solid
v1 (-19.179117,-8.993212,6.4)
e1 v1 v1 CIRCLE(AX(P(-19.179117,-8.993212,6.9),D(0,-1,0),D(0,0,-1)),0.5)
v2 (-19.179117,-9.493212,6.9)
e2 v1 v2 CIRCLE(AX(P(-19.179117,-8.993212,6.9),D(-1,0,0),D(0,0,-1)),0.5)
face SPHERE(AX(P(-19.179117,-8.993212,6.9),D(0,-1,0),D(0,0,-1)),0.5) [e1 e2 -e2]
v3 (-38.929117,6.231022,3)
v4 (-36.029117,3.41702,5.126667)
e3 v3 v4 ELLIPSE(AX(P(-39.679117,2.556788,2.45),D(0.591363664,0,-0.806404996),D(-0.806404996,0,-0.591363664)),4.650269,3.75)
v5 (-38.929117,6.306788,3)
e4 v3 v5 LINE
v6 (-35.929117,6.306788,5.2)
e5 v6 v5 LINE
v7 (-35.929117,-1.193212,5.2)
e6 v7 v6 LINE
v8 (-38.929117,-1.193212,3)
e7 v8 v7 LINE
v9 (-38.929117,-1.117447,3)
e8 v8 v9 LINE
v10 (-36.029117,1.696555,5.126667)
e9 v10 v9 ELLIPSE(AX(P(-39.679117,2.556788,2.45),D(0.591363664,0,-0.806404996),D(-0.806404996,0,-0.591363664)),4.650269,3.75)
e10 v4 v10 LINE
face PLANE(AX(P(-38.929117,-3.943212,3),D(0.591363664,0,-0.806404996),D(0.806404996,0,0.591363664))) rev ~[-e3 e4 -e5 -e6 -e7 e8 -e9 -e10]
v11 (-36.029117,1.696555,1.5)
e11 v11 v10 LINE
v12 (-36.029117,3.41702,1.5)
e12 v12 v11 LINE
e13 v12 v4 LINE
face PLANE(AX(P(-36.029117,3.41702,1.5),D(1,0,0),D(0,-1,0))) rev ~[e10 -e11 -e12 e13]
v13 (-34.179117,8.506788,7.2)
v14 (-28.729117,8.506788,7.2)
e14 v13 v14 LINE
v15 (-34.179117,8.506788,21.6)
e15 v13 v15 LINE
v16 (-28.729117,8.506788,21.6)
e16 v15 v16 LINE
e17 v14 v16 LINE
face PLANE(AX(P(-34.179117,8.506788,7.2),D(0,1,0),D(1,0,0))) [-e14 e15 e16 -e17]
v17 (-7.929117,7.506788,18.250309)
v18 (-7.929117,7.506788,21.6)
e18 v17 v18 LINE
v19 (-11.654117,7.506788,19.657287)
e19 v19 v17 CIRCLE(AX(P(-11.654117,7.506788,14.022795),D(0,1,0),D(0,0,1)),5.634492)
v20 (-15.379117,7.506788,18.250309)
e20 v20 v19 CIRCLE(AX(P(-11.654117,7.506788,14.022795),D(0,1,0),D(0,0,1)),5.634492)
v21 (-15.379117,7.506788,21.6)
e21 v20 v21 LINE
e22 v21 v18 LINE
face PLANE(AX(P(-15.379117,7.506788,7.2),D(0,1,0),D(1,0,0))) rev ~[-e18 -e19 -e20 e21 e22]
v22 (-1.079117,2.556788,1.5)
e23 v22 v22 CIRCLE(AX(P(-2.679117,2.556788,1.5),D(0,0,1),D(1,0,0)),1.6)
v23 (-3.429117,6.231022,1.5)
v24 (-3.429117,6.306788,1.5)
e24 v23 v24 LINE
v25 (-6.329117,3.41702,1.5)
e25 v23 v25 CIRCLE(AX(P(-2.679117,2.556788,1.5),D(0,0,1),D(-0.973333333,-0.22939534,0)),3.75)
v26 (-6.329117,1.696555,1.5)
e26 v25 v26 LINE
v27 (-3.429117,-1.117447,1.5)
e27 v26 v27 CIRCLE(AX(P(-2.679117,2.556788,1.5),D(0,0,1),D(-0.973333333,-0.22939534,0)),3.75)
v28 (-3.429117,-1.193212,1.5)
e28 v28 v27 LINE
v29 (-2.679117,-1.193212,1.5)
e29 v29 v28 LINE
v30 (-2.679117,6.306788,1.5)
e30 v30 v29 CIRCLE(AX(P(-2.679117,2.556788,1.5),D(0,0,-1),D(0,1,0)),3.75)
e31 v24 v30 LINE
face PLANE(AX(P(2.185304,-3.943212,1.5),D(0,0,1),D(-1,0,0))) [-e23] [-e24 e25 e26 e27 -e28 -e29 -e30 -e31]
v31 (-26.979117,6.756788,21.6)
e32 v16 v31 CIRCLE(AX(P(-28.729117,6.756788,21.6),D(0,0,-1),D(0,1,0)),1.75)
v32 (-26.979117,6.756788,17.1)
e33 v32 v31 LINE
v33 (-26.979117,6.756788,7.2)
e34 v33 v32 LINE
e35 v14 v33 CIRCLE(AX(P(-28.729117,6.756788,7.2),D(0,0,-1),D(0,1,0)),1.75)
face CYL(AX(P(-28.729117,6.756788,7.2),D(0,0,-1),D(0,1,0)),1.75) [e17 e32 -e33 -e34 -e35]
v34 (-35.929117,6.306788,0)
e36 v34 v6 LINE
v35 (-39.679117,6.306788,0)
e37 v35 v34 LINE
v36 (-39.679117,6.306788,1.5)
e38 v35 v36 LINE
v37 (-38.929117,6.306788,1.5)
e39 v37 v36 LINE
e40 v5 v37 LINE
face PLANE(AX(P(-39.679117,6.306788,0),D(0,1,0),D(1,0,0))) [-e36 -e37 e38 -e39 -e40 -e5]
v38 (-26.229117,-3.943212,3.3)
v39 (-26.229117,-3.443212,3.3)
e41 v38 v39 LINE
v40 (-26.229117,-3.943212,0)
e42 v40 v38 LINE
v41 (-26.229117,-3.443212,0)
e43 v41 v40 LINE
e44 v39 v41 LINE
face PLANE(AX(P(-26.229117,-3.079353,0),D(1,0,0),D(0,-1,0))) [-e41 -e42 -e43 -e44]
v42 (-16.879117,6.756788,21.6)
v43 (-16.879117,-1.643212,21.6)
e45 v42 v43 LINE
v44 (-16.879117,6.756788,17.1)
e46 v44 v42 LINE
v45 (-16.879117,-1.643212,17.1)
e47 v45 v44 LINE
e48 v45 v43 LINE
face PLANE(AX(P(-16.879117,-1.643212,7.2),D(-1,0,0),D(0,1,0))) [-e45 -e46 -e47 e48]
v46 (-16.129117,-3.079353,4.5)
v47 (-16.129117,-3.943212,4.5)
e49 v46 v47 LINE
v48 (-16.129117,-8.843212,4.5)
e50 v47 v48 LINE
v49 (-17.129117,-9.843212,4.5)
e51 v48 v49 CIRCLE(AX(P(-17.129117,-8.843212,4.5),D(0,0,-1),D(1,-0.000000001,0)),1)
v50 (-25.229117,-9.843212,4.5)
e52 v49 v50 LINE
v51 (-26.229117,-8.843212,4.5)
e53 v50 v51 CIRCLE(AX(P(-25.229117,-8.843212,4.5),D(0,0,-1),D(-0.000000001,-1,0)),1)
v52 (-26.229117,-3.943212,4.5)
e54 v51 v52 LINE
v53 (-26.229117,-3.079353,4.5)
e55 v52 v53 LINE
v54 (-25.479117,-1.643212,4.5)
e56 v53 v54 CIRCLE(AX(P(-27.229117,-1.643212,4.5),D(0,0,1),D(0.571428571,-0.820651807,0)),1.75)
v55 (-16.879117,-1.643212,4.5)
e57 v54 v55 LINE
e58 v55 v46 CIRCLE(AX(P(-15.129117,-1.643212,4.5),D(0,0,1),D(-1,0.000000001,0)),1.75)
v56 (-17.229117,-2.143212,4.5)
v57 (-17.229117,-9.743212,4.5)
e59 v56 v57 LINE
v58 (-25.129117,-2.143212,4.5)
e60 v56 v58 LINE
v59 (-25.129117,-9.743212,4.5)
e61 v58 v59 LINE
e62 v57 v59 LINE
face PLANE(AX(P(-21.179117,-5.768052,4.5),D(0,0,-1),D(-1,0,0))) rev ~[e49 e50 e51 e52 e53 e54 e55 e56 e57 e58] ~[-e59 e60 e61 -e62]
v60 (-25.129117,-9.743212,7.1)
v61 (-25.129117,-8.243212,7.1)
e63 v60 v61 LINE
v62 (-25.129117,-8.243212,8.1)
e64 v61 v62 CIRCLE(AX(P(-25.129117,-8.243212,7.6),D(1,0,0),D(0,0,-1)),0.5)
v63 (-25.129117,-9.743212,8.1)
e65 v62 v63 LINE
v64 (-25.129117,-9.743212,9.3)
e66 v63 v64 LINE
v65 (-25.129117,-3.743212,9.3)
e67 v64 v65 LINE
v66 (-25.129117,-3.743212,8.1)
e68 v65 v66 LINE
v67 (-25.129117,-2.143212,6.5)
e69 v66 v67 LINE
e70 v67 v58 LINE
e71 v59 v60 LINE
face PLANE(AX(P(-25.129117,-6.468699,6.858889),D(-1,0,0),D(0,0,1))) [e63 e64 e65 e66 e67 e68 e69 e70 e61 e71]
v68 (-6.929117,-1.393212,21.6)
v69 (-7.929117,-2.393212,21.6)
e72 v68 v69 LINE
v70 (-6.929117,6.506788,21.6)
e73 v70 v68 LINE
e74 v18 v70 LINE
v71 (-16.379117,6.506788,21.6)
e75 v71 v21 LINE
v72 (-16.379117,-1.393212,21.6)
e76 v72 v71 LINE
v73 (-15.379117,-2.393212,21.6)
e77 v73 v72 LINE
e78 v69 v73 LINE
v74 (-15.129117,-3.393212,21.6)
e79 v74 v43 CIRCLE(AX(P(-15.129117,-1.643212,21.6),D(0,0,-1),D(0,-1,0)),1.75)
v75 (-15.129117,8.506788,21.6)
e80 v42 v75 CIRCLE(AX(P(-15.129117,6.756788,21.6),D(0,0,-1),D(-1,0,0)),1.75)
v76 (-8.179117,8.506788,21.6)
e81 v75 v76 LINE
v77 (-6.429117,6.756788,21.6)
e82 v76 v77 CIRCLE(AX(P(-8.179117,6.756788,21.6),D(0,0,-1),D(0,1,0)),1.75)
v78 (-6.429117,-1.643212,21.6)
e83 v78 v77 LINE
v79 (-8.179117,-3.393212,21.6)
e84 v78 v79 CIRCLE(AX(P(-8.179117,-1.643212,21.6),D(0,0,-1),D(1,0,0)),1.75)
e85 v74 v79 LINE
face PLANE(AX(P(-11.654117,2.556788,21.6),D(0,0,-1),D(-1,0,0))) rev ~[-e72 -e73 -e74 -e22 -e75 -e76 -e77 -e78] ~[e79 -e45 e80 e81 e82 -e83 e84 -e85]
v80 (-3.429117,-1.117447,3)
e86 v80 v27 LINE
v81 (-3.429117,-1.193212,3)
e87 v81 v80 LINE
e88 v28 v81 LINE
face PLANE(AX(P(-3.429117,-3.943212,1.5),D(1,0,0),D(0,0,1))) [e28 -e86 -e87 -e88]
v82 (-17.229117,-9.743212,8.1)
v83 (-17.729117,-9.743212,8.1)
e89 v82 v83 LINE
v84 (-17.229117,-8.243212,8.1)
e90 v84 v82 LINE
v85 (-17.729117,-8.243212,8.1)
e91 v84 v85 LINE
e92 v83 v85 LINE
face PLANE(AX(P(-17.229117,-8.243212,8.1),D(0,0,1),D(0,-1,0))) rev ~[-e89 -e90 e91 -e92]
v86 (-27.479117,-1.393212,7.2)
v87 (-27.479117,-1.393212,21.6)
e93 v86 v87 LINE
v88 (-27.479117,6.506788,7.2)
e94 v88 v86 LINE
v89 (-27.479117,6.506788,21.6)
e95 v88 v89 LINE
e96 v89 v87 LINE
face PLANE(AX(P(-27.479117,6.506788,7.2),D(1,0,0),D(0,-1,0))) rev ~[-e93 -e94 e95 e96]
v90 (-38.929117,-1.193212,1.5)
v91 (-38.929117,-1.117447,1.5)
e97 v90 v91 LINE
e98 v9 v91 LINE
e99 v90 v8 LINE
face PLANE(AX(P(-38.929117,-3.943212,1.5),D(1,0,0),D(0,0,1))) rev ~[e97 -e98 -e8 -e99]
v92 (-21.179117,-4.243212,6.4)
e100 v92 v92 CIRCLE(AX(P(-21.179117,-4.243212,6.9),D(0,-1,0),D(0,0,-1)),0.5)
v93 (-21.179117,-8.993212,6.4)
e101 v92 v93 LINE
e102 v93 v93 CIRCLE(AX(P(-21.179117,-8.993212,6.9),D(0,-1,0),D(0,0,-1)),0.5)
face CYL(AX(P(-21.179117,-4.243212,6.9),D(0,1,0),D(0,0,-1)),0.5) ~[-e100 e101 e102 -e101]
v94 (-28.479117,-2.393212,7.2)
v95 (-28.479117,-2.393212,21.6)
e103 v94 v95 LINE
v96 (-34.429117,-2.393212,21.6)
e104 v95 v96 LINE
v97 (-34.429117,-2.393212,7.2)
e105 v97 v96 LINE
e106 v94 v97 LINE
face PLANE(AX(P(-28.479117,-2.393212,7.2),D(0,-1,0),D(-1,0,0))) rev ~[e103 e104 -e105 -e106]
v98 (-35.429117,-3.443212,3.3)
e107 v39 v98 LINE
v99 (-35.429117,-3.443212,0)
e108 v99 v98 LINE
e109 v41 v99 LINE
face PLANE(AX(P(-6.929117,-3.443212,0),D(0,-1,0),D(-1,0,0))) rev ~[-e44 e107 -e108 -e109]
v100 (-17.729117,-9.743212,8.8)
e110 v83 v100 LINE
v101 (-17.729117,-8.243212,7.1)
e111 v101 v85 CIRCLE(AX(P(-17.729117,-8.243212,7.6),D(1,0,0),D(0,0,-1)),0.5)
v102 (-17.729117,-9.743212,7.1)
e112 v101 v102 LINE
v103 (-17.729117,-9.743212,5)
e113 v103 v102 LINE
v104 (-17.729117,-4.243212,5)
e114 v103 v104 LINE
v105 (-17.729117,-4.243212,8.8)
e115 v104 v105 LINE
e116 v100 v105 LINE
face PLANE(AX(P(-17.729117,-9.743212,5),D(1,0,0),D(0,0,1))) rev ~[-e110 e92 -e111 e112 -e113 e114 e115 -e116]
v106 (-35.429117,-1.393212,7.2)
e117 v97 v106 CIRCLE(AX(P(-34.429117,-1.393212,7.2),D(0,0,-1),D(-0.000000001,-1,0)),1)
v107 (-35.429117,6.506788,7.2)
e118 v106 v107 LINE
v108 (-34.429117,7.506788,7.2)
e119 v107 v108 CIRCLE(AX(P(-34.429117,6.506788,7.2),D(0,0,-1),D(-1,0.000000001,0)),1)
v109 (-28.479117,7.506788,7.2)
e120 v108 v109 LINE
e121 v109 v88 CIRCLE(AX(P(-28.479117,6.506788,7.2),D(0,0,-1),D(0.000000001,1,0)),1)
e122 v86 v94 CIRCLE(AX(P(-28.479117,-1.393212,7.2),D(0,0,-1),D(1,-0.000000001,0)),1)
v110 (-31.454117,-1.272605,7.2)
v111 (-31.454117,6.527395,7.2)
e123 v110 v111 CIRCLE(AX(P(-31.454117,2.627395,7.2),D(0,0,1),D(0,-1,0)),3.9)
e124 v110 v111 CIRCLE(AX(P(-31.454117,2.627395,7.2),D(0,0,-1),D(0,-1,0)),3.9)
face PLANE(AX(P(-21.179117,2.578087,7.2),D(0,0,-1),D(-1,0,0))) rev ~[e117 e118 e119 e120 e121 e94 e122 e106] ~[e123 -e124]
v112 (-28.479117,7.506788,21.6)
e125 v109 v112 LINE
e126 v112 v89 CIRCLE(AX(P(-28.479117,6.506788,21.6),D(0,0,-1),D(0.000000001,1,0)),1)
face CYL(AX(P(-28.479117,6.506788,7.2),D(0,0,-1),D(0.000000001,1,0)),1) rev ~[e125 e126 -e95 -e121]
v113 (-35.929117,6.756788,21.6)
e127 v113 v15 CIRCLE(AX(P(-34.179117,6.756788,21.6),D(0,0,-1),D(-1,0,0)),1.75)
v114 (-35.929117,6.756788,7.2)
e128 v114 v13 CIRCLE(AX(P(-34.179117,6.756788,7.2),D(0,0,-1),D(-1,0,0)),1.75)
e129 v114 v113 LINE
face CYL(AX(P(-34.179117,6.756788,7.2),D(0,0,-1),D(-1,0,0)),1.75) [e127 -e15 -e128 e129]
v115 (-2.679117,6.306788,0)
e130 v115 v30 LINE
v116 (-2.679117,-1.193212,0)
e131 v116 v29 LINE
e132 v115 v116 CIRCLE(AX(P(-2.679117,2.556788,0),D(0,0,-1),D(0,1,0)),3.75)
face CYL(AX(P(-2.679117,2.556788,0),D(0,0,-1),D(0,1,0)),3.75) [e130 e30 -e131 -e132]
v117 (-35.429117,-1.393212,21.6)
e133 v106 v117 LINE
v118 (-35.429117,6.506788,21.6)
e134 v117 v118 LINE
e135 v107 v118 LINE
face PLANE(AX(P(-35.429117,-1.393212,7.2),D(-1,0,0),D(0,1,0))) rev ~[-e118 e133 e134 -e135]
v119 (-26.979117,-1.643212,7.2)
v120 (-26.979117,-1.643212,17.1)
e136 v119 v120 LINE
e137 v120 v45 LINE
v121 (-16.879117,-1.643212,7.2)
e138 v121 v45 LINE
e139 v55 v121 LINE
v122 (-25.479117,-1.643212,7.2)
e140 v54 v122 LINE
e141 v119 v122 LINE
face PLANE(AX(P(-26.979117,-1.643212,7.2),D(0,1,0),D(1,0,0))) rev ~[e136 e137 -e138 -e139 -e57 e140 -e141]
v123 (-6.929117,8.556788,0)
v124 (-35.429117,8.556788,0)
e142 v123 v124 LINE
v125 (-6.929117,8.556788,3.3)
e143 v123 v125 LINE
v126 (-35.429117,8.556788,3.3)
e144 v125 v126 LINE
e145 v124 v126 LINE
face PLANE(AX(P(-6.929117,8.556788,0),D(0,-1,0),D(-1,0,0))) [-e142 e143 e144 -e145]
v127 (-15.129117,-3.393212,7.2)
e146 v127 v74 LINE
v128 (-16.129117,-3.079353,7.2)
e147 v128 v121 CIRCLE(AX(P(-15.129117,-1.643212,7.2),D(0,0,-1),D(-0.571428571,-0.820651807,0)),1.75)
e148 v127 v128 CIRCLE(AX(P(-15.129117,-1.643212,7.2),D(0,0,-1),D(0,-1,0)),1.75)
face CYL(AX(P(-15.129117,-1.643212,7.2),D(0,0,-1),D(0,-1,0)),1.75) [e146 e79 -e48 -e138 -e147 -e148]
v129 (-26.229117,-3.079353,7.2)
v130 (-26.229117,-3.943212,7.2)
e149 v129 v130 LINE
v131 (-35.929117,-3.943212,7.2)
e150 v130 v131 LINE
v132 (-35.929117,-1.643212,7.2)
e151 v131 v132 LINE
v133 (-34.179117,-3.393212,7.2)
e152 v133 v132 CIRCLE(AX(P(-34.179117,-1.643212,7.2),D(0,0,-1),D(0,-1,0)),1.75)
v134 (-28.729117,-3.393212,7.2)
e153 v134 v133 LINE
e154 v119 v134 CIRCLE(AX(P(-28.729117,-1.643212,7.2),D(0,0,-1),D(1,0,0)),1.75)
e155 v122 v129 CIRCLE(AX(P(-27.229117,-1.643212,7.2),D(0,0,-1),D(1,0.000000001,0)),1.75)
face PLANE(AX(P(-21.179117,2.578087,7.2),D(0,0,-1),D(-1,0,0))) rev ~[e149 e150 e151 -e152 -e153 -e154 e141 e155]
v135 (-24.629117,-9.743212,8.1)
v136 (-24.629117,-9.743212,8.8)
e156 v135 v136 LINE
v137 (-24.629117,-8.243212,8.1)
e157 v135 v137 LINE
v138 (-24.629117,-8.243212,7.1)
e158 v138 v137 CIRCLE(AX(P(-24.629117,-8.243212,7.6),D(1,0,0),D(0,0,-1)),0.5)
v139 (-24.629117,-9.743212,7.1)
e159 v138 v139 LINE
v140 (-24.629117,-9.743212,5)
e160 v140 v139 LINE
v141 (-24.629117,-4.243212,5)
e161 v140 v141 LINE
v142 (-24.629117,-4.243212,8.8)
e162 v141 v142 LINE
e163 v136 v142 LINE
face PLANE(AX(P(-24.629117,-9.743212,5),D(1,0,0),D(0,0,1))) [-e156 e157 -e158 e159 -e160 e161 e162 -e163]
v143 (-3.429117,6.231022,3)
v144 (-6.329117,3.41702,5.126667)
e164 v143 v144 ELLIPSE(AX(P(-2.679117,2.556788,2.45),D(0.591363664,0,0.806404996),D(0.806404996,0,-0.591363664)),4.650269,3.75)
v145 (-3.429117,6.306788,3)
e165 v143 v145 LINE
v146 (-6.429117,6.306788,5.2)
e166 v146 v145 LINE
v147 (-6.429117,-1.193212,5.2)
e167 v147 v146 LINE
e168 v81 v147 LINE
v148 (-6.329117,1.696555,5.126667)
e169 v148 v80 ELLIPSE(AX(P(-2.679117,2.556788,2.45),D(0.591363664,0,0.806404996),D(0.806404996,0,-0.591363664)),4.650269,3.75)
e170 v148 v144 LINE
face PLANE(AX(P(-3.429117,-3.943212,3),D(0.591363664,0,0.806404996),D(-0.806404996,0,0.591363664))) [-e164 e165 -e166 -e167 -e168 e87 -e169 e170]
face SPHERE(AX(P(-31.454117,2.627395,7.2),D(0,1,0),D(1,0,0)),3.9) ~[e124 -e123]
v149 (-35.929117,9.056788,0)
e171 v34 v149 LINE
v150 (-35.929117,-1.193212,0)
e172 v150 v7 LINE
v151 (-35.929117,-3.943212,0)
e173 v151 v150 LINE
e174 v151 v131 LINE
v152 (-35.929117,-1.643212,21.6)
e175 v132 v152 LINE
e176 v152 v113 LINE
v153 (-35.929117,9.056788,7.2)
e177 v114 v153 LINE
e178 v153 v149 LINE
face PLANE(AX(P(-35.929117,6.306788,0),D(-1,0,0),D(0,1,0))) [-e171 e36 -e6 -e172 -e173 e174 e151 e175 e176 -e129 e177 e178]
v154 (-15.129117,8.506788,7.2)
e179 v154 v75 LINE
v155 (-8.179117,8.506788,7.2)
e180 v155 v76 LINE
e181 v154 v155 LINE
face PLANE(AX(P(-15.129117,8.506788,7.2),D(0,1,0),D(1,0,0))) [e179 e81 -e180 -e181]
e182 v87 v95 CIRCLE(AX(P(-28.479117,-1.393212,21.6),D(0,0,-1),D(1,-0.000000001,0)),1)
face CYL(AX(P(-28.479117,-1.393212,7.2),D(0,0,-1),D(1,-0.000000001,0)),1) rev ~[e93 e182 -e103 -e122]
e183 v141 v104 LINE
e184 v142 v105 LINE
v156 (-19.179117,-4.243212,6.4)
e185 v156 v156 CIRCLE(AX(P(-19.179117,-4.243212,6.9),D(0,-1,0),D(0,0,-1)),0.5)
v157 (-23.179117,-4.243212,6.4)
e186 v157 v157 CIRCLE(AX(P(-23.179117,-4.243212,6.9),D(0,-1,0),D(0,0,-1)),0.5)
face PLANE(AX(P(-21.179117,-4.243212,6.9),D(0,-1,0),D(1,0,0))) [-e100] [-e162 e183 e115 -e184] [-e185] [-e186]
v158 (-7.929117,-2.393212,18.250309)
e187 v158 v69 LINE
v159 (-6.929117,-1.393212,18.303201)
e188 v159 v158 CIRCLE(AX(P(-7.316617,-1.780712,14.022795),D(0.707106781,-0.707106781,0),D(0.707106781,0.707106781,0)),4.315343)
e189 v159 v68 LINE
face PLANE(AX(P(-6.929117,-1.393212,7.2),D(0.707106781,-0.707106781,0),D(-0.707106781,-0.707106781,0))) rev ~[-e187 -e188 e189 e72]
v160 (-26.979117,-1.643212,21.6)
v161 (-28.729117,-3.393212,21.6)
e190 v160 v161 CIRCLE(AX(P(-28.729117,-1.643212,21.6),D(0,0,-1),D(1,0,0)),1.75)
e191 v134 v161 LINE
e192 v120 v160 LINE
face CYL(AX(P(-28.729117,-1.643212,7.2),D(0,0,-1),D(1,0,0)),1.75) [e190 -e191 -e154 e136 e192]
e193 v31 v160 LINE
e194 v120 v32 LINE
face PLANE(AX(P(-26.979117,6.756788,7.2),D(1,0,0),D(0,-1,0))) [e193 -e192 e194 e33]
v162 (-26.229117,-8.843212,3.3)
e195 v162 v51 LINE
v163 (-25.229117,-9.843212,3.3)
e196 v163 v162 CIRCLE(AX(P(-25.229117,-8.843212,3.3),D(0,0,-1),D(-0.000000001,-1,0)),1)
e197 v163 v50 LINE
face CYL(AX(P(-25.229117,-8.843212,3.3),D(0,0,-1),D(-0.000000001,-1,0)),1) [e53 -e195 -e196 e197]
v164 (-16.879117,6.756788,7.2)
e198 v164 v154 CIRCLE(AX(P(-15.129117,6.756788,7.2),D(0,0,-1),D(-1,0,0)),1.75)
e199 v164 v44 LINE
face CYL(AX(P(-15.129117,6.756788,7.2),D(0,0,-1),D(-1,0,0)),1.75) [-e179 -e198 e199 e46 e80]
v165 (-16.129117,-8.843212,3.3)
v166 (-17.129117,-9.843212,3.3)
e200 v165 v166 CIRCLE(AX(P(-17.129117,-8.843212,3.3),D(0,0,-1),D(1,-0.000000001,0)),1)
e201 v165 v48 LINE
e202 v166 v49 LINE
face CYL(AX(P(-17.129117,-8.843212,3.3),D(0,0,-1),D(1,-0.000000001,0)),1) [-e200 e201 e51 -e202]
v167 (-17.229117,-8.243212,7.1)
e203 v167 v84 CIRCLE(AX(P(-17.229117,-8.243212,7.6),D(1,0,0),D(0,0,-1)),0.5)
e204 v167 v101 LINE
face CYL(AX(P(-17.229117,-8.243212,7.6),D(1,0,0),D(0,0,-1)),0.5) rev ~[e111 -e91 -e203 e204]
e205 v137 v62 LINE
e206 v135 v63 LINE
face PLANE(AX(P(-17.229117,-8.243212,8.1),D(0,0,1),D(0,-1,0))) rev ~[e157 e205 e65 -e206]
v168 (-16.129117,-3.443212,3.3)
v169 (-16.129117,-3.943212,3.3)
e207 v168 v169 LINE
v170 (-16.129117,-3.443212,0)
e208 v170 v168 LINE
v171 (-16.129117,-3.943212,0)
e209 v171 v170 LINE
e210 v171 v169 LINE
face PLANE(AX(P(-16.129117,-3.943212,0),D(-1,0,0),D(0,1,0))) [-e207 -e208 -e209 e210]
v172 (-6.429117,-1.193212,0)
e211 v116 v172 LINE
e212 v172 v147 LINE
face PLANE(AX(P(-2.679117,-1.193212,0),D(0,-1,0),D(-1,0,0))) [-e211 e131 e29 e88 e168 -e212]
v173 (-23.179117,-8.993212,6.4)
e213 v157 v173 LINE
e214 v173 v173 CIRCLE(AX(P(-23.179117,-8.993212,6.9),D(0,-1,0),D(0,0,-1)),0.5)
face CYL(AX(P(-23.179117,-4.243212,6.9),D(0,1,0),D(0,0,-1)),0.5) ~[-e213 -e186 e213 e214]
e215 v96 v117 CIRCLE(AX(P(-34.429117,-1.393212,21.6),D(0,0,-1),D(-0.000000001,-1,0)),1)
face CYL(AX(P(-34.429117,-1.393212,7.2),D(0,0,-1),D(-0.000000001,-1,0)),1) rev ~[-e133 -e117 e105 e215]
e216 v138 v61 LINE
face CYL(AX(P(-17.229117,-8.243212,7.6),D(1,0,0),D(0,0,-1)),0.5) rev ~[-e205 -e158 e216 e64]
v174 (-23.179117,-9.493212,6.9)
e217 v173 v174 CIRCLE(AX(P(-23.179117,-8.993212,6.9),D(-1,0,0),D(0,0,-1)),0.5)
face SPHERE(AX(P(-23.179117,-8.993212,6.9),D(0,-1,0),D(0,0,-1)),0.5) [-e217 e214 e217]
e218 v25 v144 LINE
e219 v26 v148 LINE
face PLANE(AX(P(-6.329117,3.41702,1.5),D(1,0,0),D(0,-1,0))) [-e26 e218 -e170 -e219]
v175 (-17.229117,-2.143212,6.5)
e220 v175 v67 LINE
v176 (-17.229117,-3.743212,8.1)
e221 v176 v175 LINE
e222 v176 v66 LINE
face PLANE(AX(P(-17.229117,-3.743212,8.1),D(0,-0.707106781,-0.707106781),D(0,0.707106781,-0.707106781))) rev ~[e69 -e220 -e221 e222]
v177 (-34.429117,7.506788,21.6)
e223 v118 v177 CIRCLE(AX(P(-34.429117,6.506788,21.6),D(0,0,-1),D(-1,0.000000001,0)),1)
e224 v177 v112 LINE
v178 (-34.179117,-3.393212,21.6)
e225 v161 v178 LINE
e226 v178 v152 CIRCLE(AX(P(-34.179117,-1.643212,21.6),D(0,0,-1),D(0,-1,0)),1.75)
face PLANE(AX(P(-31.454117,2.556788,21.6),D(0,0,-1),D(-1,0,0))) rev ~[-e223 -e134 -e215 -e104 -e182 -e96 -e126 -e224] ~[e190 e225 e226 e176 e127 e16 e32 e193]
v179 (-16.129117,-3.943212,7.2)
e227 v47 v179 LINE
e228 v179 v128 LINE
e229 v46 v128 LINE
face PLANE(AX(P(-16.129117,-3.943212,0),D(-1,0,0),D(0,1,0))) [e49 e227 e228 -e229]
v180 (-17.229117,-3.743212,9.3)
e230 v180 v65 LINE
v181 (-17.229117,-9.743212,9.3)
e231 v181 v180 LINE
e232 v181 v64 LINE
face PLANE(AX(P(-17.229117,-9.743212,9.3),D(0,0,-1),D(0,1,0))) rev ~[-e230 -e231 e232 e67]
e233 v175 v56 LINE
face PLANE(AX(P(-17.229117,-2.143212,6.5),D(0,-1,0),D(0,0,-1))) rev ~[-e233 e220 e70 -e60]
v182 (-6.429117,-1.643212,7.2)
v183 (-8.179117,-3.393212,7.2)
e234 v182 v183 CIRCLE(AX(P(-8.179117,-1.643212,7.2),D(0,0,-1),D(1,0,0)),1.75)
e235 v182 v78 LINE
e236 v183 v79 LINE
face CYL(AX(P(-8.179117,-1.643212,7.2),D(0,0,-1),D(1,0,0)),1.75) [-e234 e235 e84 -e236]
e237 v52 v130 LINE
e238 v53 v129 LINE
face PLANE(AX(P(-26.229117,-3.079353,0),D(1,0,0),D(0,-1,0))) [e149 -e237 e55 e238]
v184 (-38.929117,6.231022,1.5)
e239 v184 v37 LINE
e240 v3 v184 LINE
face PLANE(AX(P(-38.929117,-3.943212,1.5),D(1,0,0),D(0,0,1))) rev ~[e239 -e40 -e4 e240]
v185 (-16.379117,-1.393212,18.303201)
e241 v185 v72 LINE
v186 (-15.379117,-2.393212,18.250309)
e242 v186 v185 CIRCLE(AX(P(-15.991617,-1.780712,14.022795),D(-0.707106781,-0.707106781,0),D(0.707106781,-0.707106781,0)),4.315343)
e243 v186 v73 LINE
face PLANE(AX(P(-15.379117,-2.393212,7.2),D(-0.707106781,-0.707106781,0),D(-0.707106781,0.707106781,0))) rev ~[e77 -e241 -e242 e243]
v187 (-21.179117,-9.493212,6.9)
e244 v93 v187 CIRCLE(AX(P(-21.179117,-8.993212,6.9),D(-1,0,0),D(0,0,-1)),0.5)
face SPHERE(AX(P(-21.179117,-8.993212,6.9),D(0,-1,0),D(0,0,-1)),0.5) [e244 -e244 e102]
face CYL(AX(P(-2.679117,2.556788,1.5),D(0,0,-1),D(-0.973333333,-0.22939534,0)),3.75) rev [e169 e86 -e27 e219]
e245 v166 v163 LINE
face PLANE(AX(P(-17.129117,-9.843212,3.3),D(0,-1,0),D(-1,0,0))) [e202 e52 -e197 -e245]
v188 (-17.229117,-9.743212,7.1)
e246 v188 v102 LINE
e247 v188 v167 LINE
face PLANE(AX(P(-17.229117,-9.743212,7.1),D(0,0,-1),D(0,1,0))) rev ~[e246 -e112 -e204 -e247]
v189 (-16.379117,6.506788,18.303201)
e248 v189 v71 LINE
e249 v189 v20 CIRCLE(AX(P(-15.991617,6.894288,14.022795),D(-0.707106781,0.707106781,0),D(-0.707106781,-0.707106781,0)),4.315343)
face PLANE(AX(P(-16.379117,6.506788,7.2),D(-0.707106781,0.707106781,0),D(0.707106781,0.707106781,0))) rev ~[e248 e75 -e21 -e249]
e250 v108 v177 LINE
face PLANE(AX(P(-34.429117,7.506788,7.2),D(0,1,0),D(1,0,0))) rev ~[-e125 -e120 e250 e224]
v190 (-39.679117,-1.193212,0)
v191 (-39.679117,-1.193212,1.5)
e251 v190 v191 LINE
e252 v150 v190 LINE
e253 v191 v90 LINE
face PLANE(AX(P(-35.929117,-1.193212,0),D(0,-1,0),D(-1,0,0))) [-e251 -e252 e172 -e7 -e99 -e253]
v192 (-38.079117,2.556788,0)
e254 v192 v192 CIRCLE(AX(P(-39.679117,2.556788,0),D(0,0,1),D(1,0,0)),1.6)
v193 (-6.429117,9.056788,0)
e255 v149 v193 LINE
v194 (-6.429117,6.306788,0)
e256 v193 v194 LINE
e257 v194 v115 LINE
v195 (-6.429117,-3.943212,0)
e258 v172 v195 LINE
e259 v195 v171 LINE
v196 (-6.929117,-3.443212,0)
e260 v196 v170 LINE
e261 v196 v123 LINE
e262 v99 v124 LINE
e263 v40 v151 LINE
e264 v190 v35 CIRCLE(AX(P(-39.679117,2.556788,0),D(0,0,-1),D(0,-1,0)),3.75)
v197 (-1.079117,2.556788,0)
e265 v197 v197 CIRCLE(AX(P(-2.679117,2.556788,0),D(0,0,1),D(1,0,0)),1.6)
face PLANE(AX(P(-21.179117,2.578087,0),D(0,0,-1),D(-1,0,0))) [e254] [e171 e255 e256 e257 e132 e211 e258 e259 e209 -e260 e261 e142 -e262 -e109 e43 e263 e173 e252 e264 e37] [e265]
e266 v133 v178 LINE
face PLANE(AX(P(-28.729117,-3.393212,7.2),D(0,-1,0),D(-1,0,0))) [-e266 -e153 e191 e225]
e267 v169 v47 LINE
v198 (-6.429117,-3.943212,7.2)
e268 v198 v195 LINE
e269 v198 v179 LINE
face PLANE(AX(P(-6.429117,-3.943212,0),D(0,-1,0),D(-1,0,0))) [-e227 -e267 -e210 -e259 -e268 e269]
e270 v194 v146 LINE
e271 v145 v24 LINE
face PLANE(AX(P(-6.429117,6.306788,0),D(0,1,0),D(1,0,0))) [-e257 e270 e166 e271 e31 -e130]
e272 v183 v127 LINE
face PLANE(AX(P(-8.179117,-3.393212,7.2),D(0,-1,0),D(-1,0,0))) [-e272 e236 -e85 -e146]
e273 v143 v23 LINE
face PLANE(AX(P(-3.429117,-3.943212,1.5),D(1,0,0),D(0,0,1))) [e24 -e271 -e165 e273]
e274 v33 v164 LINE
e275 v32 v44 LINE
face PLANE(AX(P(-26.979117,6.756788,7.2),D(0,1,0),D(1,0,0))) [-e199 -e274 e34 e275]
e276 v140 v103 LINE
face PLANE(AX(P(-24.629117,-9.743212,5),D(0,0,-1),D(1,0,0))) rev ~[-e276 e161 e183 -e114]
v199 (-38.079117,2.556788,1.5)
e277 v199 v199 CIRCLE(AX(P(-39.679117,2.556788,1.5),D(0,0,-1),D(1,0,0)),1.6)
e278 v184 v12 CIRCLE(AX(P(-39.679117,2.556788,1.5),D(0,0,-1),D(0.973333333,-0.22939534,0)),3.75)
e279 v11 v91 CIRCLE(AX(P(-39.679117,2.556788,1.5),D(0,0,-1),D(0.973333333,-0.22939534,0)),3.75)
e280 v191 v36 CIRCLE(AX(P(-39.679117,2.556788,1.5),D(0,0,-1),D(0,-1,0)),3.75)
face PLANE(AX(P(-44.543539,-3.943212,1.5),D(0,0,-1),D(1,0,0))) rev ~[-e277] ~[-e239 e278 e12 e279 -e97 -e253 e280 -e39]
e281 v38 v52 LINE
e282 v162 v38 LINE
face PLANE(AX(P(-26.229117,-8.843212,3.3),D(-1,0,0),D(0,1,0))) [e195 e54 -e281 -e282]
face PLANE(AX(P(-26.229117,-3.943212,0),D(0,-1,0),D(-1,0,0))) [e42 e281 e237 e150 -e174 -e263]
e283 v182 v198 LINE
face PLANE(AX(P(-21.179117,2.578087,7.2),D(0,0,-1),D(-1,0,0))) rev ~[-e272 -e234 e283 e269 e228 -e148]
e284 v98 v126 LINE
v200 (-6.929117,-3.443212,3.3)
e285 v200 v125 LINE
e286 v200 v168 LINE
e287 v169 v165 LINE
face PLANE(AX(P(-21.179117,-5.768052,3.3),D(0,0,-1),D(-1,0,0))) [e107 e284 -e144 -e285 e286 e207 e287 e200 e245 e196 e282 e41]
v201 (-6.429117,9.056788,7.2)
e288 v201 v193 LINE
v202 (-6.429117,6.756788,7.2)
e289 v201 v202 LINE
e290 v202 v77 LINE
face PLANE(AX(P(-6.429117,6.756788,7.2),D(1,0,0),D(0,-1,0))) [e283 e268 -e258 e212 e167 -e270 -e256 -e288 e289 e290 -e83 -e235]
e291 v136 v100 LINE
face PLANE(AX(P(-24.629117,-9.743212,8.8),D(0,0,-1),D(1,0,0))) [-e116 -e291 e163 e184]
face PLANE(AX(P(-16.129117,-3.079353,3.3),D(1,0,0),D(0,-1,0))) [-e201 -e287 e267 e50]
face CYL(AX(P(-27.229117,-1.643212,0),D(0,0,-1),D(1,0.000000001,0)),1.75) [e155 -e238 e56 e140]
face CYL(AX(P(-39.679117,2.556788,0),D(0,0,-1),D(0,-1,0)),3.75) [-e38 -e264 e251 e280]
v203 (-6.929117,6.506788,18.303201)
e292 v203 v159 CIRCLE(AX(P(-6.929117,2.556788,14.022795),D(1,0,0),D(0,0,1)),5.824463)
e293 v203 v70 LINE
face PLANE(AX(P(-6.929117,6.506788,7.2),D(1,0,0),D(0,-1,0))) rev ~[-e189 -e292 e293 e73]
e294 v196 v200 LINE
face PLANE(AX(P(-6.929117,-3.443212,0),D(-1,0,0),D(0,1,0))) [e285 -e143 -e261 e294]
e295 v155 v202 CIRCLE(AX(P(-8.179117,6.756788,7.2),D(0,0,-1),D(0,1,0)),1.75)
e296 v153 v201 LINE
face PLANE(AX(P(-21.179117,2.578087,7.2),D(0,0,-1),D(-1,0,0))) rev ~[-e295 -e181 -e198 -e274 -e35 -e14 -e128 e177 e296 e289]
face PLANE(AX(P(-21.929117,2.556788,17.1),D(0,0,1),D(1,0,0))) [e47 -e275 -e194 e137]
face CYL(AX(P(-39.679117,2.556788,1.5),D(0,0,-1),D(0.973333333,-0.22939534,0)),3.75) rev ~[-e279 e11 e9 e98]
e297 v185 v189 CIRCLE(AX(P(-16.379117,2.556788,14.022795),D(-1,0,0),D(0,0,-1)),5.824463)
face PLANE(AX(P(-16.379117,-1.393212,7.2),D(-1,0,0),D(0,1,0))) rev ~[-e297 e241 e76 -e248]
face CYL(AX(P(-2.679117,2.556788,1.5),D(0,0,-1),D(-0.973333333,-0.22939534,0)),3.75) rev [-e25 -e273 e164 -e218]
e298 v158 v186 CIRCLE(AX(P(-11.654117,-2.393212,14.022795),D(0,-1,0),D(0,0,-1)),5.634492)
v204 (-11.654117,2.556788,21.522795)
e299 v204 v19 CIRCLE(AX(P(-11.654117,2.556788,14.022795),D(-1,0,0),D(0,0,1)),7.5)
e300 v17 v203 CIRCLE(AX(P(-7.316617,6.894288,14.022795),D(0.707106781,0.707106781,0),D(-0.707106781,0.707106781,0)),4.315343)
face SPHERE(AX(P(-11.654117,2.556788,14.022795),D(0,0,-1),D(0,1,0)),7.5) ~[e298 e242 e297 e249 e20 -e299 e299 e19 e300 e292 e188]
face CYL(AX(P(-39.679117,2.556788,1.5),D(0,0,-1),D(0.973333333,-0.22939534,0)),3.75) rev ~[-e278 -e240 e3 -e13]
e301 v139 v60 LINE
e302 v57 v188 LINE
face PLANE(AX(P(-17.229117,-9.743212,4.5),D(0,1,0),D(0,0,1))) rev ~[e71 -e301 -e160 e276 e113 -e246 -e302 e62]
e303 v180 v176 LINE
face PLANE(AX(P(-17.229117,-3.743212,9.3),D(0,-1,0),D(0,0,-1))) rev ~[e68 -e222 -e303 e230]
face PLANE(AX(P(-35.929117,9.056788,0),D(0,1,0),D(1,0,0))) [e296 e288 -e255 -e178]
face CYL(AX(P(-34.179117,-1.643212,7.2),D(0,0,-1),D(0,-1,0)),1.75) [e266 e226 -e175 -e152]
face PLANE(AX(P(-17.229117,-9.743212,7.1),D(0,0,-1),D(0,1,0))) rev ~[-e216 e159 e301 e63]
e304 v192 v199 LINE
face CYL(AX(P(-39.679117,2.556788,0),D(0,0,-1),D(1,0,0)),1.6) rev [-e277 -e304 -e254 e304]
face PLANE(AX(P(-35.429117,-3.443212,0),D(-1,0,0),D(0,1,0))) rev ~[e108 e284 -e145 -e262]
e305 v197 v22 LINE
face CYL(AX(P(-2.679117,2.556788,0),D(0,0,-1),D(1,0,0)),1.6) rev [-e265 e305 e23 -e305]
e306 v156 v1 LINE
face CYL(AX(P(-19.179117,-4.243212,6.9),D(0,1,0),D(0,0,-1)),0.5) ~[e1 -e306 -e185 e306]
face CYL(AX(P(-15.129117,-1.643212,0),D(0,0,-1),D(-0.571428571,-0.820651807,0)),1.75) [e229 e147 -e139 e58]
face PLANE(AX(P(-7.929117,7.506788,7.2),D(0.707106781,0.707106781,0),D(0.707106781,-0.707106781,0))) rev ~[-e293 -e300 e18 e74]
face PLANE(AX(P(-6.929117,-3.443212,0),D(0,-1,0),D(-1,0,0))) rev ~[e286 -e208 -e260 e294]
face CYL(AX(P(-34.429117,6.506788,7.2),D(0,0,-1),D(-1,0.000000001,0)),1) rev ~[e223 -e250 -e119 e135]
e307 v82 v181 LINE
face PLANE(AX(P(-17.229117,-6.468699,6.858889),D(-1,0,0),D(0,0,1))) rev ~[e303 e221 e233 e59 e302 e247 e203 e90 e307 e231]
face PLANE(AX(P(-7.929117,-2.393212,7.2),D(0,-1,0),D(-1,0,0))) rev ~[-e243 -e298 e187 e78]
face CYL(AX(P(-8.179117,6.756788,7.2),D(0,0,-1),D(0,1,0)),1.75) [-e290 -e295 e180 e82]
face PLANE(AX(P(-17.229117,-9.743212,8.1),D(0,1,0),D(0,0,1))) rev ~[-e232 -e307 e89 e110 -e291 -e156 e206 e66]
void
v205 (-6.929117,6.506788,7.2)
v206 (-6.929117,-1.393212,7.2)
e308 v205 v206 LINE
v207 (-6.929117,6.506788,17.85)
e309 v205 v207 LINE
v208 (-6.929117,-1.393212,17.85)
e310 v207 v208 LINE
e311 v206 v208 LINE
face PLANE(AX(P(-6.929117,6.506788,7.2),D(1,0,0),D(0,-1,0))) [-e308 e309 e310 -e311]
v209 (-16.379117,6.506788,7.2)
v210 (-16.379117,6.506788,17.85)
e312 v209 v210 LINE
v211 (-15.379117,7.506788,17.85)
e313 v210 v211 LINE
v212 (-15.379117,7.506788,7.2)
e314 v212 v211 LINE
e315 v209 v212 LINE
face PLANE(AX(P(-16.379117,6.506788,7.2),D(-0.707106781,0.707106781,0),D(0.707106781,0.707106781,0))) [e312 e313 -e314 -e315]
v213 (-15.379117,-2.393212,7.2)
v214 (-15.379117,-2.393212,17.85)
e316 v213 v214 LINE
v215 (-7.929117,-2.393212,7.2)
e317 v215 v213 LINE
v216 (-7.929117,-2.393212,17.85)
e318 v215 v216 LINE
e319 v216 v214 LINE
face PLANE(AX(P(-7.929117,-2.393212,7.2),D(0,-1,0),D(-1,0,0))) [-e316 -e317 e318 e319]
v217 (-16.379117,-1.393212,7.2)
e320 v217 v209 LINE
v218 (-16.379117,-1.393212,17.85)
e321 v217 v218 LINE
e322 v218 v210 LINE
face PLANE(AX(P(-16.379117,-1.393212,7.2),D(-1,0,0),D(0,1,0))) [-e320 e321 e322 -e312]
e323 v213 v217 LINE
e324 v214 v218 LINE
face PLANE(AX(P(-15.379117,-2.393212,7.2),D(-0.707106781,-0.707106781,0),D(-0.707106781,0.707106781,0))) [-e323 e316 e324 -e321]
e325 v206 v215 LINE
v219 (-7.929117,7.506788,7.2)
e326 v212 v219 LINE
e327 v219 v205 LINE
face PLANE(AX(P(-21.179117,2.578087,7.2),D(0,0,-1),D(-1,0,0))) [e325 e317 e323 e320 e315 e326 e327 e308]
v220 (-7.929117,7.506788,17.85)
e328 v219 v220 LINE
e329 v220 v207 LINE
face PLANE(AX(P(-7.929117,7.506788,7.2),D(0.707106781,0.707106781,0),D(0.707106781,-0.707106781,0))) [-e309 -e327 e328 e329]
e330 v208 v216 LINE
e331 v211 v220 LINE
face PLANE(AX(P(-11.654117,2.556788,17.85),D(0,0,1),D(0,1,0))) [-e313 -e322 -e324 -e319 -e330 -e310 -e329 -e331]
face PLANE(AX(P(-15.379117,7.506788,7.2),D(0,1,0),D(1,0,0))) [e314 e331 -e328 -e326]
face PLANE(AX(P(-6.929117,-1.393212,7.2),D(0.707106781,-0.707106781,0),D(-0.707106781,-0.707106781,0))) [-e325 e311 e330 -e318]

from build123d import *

# Parameters (mm, degrees)
SKETCH1_R                = 1.6
BOSS_EXTRUDE1_DEPTH      = 7.2
CUT_EXTRUDE1_DEPTH       = 46.901288027
CUT_EXTRUDE2_DEPTH       = 45.728108035
BOSS_EXTRUDE4_DEPTH      = 14.4
SKETCH6_W                = 10.1
SKETCH6_H                = 8.4
BOSS_EXTRUDE5_DEPTH      = 9.9
REVOLVE1_ANGLE           = 180
CUT_EXTRUDE3_DEPTH       = 4
SKETCH13_W               = 28.5
SKETCH13_H               = 12
CUT_EXTRUDE4_DEPTH       = 3.3
BOSS_EXTRUDE6_DEPTH      = 1.2
BOSS_EXTRUDE7_DEPTH      = 3.95
BOSS_EXTRUDE7_DEPTH_BACK = 3.95
SKETCH16_W               = 6.9
SKETCH16_H               = 3.8
CUT_EXTRUDE5_DEPTH       = 5.5
SKETCH18_R               = 0.5
BOSS_EXTRUDE8_DEPTH      = 5.25
FILLET1_R                = 0.5


with BuildPart() as part:
    # Sketch1 → Boss-Extrude1 (new body)
    with BuildSketch(Plane.XY):
        with BuildLine():
            Line((-39.67911745, 6.306787833), (-35.92911745, 6.306787833))
            Line((-35.92911745, 6.306787833), (-35.92911745, 9.056787833))
            Line((-35.92911745, 9.056787833), (-6.42911745, 9.056787833))
            Line((-6.42911745, 9.056787833), (-6.42911745, 6.306787833))
            Line((-6.42911745, 6.306787833), (-2.67911745, 6.306787833))
            ThreePointArc((-2.67911745, 6.306787833), (1.07088255, 2.556787833), (-2.67911745, -1.193212167))
            Line((-2.67911745, -1.193212167), (-6.42911745, -1.193212167))
            Line((-6.42911745, -1.193212167), (-6.42911745, -3.943212167))
            Line((-6.42911745, -3.943212167), (-16.12911745, -3.943212167))
            Line((-16.12911745, -3.943212167), (-16.12911745, -3.079352829))
            ThreePointArc((-16.12911745, -3.079352829), (-16.680326656, -2.453304755), (-16.87911745, -1.643212167))
            Line((-16.87911745, -1.643212167), (-25.47911745, -1.643212167))
            ThreePointArc((-25.47911745, -1.643212167), (-25.677908244, -2.453304755), (-26.22911745, -3.079352829))
            Line((-26.22911745, -3.079352829), (-26.22911745, -3.943212167))
            Line((-26.22911745, -3.943212167), (-35.92911745, -3.943212167))
            Line((-35.92911745, -3.943212167), (-35.92911745, -1.193212167))
            Line((-35.92911745, -1.193212167), (-39.67911745, -1.193212167))
            ThreePointArc((-39.67911745, -1.193212167), (-43.42911745, 2.556787833), (-39.67911745, 6.306787833))
        make_face()
        with Locations((-39.67911745, 2.556787833)):
            Circle(SKETCH1_R, mode=Mode.SUBTRACT)
        with Locations((-2.67911745, 2.556787833)):
            Circle(SKETCH1_R, mode=Mode.SUBTRACT)
    extrude(amount=BOSS_EXTRUDE1_DEPTH)

    # Sketch3 → Cut-Extrude1 (cut, through all)
    with BuildSketch(Plane.XZ.offset(3.943212167)):
        Polygon((-44.543539252, 1.5), (-38.92911745, 1.5), (-38.92911745, 3), (-35.92911745, 5.2), (-35.92911745, 8.378943839), (-44.543539252, 8.378943839), align=None)
        Polygon((2.185304351, 8.378943839), (2.185304351, 1.5), (-3.42911745, 1.5), (-3.42911745, 3), (-6.42911745, 5.2), (-6.42911745, 8.378943839), align=None)
    extrude(amount=-CUT_EXTRUDE1_DEPTH, mode=Mode.SUBTRACT)

    # Sketch4 → Cut-Extrude2 (cut, through all)
    with BuildSketch(Plane.XY.offset(1.5)):
        with BuildLine():
            Line((-36.02911745, 3.417020359), (-36.02911745, 1.696555306))
            ThreePointArc((-36.02911745, 1.696555306), (-43.42911745, 2.556787833), (-36.02911745, 3.417020359))
        make_face()
        with BuildLine():
            Line((-6.32911745, 3.417020359), (-6.32911745, 1.696555306))
            ThreePointArc((-6.32911745, 1.696555306), (1.07088255, 2.556787833), (-6.32911745, 3.417020359))
        make_face()
    extrude(amount=CUT_EXTRUDE2_DEPTH, mode=Mode.SUBTRACT)

    # Sketch5 → Boss-Extrude4 (add)
    # profile 1 of 2: a face of its own
    with BuildSketch(Plane.XY.offset(7.2)):
        with BuildLine():
            Line((-34.17911745, 8.506787833), (-28.72911745, 8.506787833))
            ThreePointArc((-28.72911745, 8.506787833), (-27.491680583, 7.9942247), (-26.97911745, 6.756787833))
            Line((-26.97911745, 6.756787833), (-26.97911745, -1.643212167))
            ThreePointArc((-26.97911745, -1.643212167), (-27.491680583, -2.880649034), (-28.72911745, -3.393212167))
            Line((-28.72911745, -3.393212167), (-34.17911745, -3.393212167))
            ThreePointArc((-34.17911745, -3.393212167), (-35.416554317, -2.880649034), (-35.92911745, -1.643212167))
            Line((-35.92911745, -1.643212167), (-35.92911745, 6.756787833))
            ThreePointArc((-35.92911745, 6.756787833), (-35.416554317, 7.9942247), (-34.17911745, 8.506787833))
        make_face()
        with BuildLine():
            Line((-34.42911745, 7.506787833), (-28.47911745, 7.506787833))
            ThreePointArc((-28.47911745, 7.506787833), (-27.772010669, 7.213894614), (-27.47911745, 6.506787833))
            Line((-27.47911745, 6.506787833), (-27.47911745, -1.393212167))
            ThreePointArc((-27.47911745, -1.393212167), (-27.772010669, -2.100318948), (-28.47911745, -2.393212167))
            Line((-28.47911745, -2.393212167), (-34.42911745, -2.393212167))
            ThreePointArc((-34.42911745, -2.393212167), (-35.136224231, -2.100318948), (-35.42911745, -1.393212167))
            Line((-35.42911745, -1.393212167), (-35.42911745, 6.506787833))
            ThreePointArc((-35.42911745, 6.506787833), (-35.136224231, 7.213894614), (-34.42911745, 7.506787833))
        make_face(mode=Mode.SUBTRACT)
    # profile 2 of 2: a face of its own
    with BuildSketch(Plane.XY.offset(7.2)):
        with BuildLine():
            Line((-15.12911745, 8.506787833), (-8.17911745, 8.506787833))
            ThreePointArc((-8.17911745, 8.506787833), (-6.941680583, 7.9942247), (-6.42911745, 6.756787833))
            Line((-6.42911745, 6.756787833), (-6.42911745, -1.643212167))
            ThreePointArc((-6.42911745, -1.643212167), (-6.941680583, -2.880649034), (-8.17911745, -3.393212167))
            Line((-8.17911745, -3.393212167), (-15.12911745, -3.393212167))
            ThreePointArc((-15.12911745, -3.393212167), (-16.366554317, -2.880649034), (-16.87911745, -1.643212167))
            Line((-16.87911745, -1.643212167), (-16.87911745, 6.756787833))
            ThreePointArc((-16.87911745, 6.756787833), (-16.366554317, 7.9942247), (-15.12911745, 8.506787833))
        make_face()
        Polygon((-15.37911745, 7.506787833), (-7.92911745, 7.506787833), (-6.92911745, 6.506787833), (-6.92911745, -1.393212167), (-7.92911745, -2.393212167), (-15.37911745, -2.393212167), (-16.37911745, -1.393212167), (-16.37911745, 6.506787833), align=None, mode=Mode.SUBTRACT)
    extrude(amount=BOSS_EXTRUDE4_DEPTH)

    # Sketch6 → Boss-Extrude5 (add)
    with BuildSketch(Plane.XY.offset(7.2)):
        with Locations((-21.92911745, 2.556787833)):
            Rectangle(SKETCH6_W, SKETCH6_H)
    extrude(amount=BOSS_EXTRUDE5_DEPTH)

    # Sketch7 → Revolve1 (revolve)
    with BuildSketch(Plane.XY.offset(7.2)):
        with BuildLine():
            Line((-31.45411745, 6.527394978), (-31.45411745, -1.272605022))
            ThreePointArc((-31.45411745, -1.272605022), (-27.55411745, 2.627394978), (-31.45411745, 6.527394978))
        make_face()
    revolve(axis=Axis((-31.45411745, 8.506787833, 7.2), (0, -1, 0)), revolution_arc=REVOLVE1_ANGLE)

    # Sketch11 → Revolve7 (revolve)
    with BuildSketch(Plane(origin=(-11.65411745, 0, 0), x_dir=(0, 0, -1), z_dir=(1, 0, 0))):
        with BuildLine():
            Line((-17.85, 9.006787833), (-17.85, 2.556787833))
            Line((-17.85, 2.556787833), (-21.522794753, 2.556787833))
            ThreePointArc((-21.522794753, 2.556787833), (-20.54023441, 6.267984449), (-17.85, 9.006787833))
        make_face()
    revolve(axis=Axis((-11.65411745, 2.556787833, 6.48), (0, 0, 1)))

    # Sketch12 → Cut-Extrude3 (cut)
    with BuildSketch(Plane.XY.offset(21.6)):
        with BuildLine():
            Line((-9.164137531, 8.506787833), (-14.14409737, 8.506787833))
            ThreePointArc((-14.14409737, 8.506787833), (-11.65411745, 9.006787833), (-9.164137531, 8.506787833))
        make_face()
        with BuildLine():
            Line((-6.42911745, -1.224994155), (-6.42911745, 6.33856982))
            ThreePointArc((-6.42911745, 6.33856982), (-5.20411745, 2.556787833), (-6.42911745, -1.224994155))
        make_face()
        with BuildLine():
            Line((-14.14409737, -3.393212167), (-9.164137531, -3.393212167))
            ThreePointArc((-9.164137531, -3.393212167), (-11.65411745, -3.893212167), (-14.14409737, -3.393212167))
        make_face()
        with BuildLine():
            Line((-16.87911745, 6.33856982), (-16.87911745, -1.224994155))
            ThreePointArc((-16.87911745, -1.224994155), (-18.10411745, 2.556787833), (-16.87911745, 6.33856982))
        make_face()
    extrude(amount=-CUT_EXTRUDE3_DEPTH, mode=Mode.SUBTRACT)

    # Sketch13 → Cut-Extrude4 (cut)
    with BuildSketch(Plane(origin=(0, 0, 0), x_dir=(-1, 0, 0), z_dir=(0, 0, -1))):
        with Locations((21.17911745, 2.556787833)):
            Rectangle(SKETCH13_W, SKETCH13_H)
    extrude(amount=-CUT_EXTRUDE4_DEPTH, mode=Mode.SUBTRACT)

    # Sketch14 → Boss-Extrude6 (add)
    with BuildSketch(Plane(origin=(0, 0, 3.3), x_dir=(-1, 0, 0), z_dir=(0, 0, -1))):
        with BuildLine():
            Line((26.22911745, -3.943212167), (26.22911745, -3.079352829))
            ThreePointArc((26.22911745, -3.079352829), (25.677908244, -2.453304755), (25.47911745, -1.643212167))
            Line((25.47911745, -1.643212167), (16.87911745, -1.643212167))
            ThreePointArc((16.87911745, -1.643212167), (16.680326656, -2.453304755), (16.12911745, -3.079352829))
            Line((16.12911745, -3.079352829), (16.12911745, -3.943212167))
            Line((16.12911745, -3.943212167), (16.12911745, -8.843212167))
            ThreePointArc((16.12911745, -8.843212167), (16.422010669, -9.550318948), (17.12911745, -9.843212167))
            Line((17.12911745, -9.843212167), (25.22911745, -9.843212167))
            ThreePointArc((25.22911745, -9.843212167), (25.936224231, -9.550318948), (26.22911745, -8.843212167))
            Line((26.22911745, -8.843212167), (26.22911745, -3.943212167))
        make_face()
    extrude(amount=-BOSS_EXTRUDE6_DEPTH)

    # Sketch15 → Boss-Extrude7 (add, two sides: drawn at the far end of the back side and taken through both)
    with BuildSketch(Plane.ZY.offset(21.17911745).offset(-BOSS_EXTRUDE7_DEPTH_BACK)):
        with BuildLine():
            Line((6.5, -2.143212167), (4.5, -2.143212167))
            Line((4.5, -2.143212167), (4.5, -9.743212167))
            Line((4.5, -9.743212167), (7.1, -9.743212167))
            Line((7.1, -9.743212167), (7.1, -8.243212167))
            ThreePointArc((7.1, -8.243212167), (7.6, -7.743212167), (8.1, -8.243212167))
            Line((8.1, -8.243212167), (8.1, -9.743212167))
            Line((8.1, -9.743212167), (9.3, -9.743212167))
            Line((9.3, -9.743212167), (9.3, -3.743212167))
            Line((9.3, -3.743212167), (8.1, -3.743212167))
            Line((8.1, -3.743212167), (6.5, -2.143212167))
        make_face()
    extrude(amount=BOSS_EXTRUDE7_DEPTH + BOSS_EXTRUDE7_DEPTH_BACK)

    # Sketch16 → Cut-Extrude5 (cut)
    with BuildSketch(Plane.XZ.offset(9.743212167)):
        with Locations((-21.17911745, 6.9)):
            Rectangle(SKETCH16_W, SKETCH16_H)
    extrude(amount=-CUT_EXTRUDE5_DEPTH, mode=Mode.SUBTRACT)

    # Sketch18 → Boss-Extrude8 (add)
    with BuildSketch(Plane.XZ.offset(4.243212167)):
        with Locations(Location((-21.17911745, 6.9, 0), (0, 0, 270))):
            Circle(SKETCH18_R)
        with Locations(Location((-19.17911745, 6.9, 0), (0, 0, 270))):
            Circle(SKETCH18_R)
        with Locations(Location((-23.17911745, 6.9, 0), (0, 0, 270))):
            Circle(SKETCH18_R)
    extrude(amount=BOSS_EXTRUDE8_DEPTH)

    # Fillet1
    fillet1_edges = [part.edges().sort_by_distance(p)[0] for p in [
        (-21.17911745, -9.493212167, 7.4),
        (-19.17911745, -9.493212167, 7.4),
        (-23.17911745, -9.493212167, 7.4),
    ]]
    fillet(fillet1_edges, radius=FILLET1_R)


solid = part.part
